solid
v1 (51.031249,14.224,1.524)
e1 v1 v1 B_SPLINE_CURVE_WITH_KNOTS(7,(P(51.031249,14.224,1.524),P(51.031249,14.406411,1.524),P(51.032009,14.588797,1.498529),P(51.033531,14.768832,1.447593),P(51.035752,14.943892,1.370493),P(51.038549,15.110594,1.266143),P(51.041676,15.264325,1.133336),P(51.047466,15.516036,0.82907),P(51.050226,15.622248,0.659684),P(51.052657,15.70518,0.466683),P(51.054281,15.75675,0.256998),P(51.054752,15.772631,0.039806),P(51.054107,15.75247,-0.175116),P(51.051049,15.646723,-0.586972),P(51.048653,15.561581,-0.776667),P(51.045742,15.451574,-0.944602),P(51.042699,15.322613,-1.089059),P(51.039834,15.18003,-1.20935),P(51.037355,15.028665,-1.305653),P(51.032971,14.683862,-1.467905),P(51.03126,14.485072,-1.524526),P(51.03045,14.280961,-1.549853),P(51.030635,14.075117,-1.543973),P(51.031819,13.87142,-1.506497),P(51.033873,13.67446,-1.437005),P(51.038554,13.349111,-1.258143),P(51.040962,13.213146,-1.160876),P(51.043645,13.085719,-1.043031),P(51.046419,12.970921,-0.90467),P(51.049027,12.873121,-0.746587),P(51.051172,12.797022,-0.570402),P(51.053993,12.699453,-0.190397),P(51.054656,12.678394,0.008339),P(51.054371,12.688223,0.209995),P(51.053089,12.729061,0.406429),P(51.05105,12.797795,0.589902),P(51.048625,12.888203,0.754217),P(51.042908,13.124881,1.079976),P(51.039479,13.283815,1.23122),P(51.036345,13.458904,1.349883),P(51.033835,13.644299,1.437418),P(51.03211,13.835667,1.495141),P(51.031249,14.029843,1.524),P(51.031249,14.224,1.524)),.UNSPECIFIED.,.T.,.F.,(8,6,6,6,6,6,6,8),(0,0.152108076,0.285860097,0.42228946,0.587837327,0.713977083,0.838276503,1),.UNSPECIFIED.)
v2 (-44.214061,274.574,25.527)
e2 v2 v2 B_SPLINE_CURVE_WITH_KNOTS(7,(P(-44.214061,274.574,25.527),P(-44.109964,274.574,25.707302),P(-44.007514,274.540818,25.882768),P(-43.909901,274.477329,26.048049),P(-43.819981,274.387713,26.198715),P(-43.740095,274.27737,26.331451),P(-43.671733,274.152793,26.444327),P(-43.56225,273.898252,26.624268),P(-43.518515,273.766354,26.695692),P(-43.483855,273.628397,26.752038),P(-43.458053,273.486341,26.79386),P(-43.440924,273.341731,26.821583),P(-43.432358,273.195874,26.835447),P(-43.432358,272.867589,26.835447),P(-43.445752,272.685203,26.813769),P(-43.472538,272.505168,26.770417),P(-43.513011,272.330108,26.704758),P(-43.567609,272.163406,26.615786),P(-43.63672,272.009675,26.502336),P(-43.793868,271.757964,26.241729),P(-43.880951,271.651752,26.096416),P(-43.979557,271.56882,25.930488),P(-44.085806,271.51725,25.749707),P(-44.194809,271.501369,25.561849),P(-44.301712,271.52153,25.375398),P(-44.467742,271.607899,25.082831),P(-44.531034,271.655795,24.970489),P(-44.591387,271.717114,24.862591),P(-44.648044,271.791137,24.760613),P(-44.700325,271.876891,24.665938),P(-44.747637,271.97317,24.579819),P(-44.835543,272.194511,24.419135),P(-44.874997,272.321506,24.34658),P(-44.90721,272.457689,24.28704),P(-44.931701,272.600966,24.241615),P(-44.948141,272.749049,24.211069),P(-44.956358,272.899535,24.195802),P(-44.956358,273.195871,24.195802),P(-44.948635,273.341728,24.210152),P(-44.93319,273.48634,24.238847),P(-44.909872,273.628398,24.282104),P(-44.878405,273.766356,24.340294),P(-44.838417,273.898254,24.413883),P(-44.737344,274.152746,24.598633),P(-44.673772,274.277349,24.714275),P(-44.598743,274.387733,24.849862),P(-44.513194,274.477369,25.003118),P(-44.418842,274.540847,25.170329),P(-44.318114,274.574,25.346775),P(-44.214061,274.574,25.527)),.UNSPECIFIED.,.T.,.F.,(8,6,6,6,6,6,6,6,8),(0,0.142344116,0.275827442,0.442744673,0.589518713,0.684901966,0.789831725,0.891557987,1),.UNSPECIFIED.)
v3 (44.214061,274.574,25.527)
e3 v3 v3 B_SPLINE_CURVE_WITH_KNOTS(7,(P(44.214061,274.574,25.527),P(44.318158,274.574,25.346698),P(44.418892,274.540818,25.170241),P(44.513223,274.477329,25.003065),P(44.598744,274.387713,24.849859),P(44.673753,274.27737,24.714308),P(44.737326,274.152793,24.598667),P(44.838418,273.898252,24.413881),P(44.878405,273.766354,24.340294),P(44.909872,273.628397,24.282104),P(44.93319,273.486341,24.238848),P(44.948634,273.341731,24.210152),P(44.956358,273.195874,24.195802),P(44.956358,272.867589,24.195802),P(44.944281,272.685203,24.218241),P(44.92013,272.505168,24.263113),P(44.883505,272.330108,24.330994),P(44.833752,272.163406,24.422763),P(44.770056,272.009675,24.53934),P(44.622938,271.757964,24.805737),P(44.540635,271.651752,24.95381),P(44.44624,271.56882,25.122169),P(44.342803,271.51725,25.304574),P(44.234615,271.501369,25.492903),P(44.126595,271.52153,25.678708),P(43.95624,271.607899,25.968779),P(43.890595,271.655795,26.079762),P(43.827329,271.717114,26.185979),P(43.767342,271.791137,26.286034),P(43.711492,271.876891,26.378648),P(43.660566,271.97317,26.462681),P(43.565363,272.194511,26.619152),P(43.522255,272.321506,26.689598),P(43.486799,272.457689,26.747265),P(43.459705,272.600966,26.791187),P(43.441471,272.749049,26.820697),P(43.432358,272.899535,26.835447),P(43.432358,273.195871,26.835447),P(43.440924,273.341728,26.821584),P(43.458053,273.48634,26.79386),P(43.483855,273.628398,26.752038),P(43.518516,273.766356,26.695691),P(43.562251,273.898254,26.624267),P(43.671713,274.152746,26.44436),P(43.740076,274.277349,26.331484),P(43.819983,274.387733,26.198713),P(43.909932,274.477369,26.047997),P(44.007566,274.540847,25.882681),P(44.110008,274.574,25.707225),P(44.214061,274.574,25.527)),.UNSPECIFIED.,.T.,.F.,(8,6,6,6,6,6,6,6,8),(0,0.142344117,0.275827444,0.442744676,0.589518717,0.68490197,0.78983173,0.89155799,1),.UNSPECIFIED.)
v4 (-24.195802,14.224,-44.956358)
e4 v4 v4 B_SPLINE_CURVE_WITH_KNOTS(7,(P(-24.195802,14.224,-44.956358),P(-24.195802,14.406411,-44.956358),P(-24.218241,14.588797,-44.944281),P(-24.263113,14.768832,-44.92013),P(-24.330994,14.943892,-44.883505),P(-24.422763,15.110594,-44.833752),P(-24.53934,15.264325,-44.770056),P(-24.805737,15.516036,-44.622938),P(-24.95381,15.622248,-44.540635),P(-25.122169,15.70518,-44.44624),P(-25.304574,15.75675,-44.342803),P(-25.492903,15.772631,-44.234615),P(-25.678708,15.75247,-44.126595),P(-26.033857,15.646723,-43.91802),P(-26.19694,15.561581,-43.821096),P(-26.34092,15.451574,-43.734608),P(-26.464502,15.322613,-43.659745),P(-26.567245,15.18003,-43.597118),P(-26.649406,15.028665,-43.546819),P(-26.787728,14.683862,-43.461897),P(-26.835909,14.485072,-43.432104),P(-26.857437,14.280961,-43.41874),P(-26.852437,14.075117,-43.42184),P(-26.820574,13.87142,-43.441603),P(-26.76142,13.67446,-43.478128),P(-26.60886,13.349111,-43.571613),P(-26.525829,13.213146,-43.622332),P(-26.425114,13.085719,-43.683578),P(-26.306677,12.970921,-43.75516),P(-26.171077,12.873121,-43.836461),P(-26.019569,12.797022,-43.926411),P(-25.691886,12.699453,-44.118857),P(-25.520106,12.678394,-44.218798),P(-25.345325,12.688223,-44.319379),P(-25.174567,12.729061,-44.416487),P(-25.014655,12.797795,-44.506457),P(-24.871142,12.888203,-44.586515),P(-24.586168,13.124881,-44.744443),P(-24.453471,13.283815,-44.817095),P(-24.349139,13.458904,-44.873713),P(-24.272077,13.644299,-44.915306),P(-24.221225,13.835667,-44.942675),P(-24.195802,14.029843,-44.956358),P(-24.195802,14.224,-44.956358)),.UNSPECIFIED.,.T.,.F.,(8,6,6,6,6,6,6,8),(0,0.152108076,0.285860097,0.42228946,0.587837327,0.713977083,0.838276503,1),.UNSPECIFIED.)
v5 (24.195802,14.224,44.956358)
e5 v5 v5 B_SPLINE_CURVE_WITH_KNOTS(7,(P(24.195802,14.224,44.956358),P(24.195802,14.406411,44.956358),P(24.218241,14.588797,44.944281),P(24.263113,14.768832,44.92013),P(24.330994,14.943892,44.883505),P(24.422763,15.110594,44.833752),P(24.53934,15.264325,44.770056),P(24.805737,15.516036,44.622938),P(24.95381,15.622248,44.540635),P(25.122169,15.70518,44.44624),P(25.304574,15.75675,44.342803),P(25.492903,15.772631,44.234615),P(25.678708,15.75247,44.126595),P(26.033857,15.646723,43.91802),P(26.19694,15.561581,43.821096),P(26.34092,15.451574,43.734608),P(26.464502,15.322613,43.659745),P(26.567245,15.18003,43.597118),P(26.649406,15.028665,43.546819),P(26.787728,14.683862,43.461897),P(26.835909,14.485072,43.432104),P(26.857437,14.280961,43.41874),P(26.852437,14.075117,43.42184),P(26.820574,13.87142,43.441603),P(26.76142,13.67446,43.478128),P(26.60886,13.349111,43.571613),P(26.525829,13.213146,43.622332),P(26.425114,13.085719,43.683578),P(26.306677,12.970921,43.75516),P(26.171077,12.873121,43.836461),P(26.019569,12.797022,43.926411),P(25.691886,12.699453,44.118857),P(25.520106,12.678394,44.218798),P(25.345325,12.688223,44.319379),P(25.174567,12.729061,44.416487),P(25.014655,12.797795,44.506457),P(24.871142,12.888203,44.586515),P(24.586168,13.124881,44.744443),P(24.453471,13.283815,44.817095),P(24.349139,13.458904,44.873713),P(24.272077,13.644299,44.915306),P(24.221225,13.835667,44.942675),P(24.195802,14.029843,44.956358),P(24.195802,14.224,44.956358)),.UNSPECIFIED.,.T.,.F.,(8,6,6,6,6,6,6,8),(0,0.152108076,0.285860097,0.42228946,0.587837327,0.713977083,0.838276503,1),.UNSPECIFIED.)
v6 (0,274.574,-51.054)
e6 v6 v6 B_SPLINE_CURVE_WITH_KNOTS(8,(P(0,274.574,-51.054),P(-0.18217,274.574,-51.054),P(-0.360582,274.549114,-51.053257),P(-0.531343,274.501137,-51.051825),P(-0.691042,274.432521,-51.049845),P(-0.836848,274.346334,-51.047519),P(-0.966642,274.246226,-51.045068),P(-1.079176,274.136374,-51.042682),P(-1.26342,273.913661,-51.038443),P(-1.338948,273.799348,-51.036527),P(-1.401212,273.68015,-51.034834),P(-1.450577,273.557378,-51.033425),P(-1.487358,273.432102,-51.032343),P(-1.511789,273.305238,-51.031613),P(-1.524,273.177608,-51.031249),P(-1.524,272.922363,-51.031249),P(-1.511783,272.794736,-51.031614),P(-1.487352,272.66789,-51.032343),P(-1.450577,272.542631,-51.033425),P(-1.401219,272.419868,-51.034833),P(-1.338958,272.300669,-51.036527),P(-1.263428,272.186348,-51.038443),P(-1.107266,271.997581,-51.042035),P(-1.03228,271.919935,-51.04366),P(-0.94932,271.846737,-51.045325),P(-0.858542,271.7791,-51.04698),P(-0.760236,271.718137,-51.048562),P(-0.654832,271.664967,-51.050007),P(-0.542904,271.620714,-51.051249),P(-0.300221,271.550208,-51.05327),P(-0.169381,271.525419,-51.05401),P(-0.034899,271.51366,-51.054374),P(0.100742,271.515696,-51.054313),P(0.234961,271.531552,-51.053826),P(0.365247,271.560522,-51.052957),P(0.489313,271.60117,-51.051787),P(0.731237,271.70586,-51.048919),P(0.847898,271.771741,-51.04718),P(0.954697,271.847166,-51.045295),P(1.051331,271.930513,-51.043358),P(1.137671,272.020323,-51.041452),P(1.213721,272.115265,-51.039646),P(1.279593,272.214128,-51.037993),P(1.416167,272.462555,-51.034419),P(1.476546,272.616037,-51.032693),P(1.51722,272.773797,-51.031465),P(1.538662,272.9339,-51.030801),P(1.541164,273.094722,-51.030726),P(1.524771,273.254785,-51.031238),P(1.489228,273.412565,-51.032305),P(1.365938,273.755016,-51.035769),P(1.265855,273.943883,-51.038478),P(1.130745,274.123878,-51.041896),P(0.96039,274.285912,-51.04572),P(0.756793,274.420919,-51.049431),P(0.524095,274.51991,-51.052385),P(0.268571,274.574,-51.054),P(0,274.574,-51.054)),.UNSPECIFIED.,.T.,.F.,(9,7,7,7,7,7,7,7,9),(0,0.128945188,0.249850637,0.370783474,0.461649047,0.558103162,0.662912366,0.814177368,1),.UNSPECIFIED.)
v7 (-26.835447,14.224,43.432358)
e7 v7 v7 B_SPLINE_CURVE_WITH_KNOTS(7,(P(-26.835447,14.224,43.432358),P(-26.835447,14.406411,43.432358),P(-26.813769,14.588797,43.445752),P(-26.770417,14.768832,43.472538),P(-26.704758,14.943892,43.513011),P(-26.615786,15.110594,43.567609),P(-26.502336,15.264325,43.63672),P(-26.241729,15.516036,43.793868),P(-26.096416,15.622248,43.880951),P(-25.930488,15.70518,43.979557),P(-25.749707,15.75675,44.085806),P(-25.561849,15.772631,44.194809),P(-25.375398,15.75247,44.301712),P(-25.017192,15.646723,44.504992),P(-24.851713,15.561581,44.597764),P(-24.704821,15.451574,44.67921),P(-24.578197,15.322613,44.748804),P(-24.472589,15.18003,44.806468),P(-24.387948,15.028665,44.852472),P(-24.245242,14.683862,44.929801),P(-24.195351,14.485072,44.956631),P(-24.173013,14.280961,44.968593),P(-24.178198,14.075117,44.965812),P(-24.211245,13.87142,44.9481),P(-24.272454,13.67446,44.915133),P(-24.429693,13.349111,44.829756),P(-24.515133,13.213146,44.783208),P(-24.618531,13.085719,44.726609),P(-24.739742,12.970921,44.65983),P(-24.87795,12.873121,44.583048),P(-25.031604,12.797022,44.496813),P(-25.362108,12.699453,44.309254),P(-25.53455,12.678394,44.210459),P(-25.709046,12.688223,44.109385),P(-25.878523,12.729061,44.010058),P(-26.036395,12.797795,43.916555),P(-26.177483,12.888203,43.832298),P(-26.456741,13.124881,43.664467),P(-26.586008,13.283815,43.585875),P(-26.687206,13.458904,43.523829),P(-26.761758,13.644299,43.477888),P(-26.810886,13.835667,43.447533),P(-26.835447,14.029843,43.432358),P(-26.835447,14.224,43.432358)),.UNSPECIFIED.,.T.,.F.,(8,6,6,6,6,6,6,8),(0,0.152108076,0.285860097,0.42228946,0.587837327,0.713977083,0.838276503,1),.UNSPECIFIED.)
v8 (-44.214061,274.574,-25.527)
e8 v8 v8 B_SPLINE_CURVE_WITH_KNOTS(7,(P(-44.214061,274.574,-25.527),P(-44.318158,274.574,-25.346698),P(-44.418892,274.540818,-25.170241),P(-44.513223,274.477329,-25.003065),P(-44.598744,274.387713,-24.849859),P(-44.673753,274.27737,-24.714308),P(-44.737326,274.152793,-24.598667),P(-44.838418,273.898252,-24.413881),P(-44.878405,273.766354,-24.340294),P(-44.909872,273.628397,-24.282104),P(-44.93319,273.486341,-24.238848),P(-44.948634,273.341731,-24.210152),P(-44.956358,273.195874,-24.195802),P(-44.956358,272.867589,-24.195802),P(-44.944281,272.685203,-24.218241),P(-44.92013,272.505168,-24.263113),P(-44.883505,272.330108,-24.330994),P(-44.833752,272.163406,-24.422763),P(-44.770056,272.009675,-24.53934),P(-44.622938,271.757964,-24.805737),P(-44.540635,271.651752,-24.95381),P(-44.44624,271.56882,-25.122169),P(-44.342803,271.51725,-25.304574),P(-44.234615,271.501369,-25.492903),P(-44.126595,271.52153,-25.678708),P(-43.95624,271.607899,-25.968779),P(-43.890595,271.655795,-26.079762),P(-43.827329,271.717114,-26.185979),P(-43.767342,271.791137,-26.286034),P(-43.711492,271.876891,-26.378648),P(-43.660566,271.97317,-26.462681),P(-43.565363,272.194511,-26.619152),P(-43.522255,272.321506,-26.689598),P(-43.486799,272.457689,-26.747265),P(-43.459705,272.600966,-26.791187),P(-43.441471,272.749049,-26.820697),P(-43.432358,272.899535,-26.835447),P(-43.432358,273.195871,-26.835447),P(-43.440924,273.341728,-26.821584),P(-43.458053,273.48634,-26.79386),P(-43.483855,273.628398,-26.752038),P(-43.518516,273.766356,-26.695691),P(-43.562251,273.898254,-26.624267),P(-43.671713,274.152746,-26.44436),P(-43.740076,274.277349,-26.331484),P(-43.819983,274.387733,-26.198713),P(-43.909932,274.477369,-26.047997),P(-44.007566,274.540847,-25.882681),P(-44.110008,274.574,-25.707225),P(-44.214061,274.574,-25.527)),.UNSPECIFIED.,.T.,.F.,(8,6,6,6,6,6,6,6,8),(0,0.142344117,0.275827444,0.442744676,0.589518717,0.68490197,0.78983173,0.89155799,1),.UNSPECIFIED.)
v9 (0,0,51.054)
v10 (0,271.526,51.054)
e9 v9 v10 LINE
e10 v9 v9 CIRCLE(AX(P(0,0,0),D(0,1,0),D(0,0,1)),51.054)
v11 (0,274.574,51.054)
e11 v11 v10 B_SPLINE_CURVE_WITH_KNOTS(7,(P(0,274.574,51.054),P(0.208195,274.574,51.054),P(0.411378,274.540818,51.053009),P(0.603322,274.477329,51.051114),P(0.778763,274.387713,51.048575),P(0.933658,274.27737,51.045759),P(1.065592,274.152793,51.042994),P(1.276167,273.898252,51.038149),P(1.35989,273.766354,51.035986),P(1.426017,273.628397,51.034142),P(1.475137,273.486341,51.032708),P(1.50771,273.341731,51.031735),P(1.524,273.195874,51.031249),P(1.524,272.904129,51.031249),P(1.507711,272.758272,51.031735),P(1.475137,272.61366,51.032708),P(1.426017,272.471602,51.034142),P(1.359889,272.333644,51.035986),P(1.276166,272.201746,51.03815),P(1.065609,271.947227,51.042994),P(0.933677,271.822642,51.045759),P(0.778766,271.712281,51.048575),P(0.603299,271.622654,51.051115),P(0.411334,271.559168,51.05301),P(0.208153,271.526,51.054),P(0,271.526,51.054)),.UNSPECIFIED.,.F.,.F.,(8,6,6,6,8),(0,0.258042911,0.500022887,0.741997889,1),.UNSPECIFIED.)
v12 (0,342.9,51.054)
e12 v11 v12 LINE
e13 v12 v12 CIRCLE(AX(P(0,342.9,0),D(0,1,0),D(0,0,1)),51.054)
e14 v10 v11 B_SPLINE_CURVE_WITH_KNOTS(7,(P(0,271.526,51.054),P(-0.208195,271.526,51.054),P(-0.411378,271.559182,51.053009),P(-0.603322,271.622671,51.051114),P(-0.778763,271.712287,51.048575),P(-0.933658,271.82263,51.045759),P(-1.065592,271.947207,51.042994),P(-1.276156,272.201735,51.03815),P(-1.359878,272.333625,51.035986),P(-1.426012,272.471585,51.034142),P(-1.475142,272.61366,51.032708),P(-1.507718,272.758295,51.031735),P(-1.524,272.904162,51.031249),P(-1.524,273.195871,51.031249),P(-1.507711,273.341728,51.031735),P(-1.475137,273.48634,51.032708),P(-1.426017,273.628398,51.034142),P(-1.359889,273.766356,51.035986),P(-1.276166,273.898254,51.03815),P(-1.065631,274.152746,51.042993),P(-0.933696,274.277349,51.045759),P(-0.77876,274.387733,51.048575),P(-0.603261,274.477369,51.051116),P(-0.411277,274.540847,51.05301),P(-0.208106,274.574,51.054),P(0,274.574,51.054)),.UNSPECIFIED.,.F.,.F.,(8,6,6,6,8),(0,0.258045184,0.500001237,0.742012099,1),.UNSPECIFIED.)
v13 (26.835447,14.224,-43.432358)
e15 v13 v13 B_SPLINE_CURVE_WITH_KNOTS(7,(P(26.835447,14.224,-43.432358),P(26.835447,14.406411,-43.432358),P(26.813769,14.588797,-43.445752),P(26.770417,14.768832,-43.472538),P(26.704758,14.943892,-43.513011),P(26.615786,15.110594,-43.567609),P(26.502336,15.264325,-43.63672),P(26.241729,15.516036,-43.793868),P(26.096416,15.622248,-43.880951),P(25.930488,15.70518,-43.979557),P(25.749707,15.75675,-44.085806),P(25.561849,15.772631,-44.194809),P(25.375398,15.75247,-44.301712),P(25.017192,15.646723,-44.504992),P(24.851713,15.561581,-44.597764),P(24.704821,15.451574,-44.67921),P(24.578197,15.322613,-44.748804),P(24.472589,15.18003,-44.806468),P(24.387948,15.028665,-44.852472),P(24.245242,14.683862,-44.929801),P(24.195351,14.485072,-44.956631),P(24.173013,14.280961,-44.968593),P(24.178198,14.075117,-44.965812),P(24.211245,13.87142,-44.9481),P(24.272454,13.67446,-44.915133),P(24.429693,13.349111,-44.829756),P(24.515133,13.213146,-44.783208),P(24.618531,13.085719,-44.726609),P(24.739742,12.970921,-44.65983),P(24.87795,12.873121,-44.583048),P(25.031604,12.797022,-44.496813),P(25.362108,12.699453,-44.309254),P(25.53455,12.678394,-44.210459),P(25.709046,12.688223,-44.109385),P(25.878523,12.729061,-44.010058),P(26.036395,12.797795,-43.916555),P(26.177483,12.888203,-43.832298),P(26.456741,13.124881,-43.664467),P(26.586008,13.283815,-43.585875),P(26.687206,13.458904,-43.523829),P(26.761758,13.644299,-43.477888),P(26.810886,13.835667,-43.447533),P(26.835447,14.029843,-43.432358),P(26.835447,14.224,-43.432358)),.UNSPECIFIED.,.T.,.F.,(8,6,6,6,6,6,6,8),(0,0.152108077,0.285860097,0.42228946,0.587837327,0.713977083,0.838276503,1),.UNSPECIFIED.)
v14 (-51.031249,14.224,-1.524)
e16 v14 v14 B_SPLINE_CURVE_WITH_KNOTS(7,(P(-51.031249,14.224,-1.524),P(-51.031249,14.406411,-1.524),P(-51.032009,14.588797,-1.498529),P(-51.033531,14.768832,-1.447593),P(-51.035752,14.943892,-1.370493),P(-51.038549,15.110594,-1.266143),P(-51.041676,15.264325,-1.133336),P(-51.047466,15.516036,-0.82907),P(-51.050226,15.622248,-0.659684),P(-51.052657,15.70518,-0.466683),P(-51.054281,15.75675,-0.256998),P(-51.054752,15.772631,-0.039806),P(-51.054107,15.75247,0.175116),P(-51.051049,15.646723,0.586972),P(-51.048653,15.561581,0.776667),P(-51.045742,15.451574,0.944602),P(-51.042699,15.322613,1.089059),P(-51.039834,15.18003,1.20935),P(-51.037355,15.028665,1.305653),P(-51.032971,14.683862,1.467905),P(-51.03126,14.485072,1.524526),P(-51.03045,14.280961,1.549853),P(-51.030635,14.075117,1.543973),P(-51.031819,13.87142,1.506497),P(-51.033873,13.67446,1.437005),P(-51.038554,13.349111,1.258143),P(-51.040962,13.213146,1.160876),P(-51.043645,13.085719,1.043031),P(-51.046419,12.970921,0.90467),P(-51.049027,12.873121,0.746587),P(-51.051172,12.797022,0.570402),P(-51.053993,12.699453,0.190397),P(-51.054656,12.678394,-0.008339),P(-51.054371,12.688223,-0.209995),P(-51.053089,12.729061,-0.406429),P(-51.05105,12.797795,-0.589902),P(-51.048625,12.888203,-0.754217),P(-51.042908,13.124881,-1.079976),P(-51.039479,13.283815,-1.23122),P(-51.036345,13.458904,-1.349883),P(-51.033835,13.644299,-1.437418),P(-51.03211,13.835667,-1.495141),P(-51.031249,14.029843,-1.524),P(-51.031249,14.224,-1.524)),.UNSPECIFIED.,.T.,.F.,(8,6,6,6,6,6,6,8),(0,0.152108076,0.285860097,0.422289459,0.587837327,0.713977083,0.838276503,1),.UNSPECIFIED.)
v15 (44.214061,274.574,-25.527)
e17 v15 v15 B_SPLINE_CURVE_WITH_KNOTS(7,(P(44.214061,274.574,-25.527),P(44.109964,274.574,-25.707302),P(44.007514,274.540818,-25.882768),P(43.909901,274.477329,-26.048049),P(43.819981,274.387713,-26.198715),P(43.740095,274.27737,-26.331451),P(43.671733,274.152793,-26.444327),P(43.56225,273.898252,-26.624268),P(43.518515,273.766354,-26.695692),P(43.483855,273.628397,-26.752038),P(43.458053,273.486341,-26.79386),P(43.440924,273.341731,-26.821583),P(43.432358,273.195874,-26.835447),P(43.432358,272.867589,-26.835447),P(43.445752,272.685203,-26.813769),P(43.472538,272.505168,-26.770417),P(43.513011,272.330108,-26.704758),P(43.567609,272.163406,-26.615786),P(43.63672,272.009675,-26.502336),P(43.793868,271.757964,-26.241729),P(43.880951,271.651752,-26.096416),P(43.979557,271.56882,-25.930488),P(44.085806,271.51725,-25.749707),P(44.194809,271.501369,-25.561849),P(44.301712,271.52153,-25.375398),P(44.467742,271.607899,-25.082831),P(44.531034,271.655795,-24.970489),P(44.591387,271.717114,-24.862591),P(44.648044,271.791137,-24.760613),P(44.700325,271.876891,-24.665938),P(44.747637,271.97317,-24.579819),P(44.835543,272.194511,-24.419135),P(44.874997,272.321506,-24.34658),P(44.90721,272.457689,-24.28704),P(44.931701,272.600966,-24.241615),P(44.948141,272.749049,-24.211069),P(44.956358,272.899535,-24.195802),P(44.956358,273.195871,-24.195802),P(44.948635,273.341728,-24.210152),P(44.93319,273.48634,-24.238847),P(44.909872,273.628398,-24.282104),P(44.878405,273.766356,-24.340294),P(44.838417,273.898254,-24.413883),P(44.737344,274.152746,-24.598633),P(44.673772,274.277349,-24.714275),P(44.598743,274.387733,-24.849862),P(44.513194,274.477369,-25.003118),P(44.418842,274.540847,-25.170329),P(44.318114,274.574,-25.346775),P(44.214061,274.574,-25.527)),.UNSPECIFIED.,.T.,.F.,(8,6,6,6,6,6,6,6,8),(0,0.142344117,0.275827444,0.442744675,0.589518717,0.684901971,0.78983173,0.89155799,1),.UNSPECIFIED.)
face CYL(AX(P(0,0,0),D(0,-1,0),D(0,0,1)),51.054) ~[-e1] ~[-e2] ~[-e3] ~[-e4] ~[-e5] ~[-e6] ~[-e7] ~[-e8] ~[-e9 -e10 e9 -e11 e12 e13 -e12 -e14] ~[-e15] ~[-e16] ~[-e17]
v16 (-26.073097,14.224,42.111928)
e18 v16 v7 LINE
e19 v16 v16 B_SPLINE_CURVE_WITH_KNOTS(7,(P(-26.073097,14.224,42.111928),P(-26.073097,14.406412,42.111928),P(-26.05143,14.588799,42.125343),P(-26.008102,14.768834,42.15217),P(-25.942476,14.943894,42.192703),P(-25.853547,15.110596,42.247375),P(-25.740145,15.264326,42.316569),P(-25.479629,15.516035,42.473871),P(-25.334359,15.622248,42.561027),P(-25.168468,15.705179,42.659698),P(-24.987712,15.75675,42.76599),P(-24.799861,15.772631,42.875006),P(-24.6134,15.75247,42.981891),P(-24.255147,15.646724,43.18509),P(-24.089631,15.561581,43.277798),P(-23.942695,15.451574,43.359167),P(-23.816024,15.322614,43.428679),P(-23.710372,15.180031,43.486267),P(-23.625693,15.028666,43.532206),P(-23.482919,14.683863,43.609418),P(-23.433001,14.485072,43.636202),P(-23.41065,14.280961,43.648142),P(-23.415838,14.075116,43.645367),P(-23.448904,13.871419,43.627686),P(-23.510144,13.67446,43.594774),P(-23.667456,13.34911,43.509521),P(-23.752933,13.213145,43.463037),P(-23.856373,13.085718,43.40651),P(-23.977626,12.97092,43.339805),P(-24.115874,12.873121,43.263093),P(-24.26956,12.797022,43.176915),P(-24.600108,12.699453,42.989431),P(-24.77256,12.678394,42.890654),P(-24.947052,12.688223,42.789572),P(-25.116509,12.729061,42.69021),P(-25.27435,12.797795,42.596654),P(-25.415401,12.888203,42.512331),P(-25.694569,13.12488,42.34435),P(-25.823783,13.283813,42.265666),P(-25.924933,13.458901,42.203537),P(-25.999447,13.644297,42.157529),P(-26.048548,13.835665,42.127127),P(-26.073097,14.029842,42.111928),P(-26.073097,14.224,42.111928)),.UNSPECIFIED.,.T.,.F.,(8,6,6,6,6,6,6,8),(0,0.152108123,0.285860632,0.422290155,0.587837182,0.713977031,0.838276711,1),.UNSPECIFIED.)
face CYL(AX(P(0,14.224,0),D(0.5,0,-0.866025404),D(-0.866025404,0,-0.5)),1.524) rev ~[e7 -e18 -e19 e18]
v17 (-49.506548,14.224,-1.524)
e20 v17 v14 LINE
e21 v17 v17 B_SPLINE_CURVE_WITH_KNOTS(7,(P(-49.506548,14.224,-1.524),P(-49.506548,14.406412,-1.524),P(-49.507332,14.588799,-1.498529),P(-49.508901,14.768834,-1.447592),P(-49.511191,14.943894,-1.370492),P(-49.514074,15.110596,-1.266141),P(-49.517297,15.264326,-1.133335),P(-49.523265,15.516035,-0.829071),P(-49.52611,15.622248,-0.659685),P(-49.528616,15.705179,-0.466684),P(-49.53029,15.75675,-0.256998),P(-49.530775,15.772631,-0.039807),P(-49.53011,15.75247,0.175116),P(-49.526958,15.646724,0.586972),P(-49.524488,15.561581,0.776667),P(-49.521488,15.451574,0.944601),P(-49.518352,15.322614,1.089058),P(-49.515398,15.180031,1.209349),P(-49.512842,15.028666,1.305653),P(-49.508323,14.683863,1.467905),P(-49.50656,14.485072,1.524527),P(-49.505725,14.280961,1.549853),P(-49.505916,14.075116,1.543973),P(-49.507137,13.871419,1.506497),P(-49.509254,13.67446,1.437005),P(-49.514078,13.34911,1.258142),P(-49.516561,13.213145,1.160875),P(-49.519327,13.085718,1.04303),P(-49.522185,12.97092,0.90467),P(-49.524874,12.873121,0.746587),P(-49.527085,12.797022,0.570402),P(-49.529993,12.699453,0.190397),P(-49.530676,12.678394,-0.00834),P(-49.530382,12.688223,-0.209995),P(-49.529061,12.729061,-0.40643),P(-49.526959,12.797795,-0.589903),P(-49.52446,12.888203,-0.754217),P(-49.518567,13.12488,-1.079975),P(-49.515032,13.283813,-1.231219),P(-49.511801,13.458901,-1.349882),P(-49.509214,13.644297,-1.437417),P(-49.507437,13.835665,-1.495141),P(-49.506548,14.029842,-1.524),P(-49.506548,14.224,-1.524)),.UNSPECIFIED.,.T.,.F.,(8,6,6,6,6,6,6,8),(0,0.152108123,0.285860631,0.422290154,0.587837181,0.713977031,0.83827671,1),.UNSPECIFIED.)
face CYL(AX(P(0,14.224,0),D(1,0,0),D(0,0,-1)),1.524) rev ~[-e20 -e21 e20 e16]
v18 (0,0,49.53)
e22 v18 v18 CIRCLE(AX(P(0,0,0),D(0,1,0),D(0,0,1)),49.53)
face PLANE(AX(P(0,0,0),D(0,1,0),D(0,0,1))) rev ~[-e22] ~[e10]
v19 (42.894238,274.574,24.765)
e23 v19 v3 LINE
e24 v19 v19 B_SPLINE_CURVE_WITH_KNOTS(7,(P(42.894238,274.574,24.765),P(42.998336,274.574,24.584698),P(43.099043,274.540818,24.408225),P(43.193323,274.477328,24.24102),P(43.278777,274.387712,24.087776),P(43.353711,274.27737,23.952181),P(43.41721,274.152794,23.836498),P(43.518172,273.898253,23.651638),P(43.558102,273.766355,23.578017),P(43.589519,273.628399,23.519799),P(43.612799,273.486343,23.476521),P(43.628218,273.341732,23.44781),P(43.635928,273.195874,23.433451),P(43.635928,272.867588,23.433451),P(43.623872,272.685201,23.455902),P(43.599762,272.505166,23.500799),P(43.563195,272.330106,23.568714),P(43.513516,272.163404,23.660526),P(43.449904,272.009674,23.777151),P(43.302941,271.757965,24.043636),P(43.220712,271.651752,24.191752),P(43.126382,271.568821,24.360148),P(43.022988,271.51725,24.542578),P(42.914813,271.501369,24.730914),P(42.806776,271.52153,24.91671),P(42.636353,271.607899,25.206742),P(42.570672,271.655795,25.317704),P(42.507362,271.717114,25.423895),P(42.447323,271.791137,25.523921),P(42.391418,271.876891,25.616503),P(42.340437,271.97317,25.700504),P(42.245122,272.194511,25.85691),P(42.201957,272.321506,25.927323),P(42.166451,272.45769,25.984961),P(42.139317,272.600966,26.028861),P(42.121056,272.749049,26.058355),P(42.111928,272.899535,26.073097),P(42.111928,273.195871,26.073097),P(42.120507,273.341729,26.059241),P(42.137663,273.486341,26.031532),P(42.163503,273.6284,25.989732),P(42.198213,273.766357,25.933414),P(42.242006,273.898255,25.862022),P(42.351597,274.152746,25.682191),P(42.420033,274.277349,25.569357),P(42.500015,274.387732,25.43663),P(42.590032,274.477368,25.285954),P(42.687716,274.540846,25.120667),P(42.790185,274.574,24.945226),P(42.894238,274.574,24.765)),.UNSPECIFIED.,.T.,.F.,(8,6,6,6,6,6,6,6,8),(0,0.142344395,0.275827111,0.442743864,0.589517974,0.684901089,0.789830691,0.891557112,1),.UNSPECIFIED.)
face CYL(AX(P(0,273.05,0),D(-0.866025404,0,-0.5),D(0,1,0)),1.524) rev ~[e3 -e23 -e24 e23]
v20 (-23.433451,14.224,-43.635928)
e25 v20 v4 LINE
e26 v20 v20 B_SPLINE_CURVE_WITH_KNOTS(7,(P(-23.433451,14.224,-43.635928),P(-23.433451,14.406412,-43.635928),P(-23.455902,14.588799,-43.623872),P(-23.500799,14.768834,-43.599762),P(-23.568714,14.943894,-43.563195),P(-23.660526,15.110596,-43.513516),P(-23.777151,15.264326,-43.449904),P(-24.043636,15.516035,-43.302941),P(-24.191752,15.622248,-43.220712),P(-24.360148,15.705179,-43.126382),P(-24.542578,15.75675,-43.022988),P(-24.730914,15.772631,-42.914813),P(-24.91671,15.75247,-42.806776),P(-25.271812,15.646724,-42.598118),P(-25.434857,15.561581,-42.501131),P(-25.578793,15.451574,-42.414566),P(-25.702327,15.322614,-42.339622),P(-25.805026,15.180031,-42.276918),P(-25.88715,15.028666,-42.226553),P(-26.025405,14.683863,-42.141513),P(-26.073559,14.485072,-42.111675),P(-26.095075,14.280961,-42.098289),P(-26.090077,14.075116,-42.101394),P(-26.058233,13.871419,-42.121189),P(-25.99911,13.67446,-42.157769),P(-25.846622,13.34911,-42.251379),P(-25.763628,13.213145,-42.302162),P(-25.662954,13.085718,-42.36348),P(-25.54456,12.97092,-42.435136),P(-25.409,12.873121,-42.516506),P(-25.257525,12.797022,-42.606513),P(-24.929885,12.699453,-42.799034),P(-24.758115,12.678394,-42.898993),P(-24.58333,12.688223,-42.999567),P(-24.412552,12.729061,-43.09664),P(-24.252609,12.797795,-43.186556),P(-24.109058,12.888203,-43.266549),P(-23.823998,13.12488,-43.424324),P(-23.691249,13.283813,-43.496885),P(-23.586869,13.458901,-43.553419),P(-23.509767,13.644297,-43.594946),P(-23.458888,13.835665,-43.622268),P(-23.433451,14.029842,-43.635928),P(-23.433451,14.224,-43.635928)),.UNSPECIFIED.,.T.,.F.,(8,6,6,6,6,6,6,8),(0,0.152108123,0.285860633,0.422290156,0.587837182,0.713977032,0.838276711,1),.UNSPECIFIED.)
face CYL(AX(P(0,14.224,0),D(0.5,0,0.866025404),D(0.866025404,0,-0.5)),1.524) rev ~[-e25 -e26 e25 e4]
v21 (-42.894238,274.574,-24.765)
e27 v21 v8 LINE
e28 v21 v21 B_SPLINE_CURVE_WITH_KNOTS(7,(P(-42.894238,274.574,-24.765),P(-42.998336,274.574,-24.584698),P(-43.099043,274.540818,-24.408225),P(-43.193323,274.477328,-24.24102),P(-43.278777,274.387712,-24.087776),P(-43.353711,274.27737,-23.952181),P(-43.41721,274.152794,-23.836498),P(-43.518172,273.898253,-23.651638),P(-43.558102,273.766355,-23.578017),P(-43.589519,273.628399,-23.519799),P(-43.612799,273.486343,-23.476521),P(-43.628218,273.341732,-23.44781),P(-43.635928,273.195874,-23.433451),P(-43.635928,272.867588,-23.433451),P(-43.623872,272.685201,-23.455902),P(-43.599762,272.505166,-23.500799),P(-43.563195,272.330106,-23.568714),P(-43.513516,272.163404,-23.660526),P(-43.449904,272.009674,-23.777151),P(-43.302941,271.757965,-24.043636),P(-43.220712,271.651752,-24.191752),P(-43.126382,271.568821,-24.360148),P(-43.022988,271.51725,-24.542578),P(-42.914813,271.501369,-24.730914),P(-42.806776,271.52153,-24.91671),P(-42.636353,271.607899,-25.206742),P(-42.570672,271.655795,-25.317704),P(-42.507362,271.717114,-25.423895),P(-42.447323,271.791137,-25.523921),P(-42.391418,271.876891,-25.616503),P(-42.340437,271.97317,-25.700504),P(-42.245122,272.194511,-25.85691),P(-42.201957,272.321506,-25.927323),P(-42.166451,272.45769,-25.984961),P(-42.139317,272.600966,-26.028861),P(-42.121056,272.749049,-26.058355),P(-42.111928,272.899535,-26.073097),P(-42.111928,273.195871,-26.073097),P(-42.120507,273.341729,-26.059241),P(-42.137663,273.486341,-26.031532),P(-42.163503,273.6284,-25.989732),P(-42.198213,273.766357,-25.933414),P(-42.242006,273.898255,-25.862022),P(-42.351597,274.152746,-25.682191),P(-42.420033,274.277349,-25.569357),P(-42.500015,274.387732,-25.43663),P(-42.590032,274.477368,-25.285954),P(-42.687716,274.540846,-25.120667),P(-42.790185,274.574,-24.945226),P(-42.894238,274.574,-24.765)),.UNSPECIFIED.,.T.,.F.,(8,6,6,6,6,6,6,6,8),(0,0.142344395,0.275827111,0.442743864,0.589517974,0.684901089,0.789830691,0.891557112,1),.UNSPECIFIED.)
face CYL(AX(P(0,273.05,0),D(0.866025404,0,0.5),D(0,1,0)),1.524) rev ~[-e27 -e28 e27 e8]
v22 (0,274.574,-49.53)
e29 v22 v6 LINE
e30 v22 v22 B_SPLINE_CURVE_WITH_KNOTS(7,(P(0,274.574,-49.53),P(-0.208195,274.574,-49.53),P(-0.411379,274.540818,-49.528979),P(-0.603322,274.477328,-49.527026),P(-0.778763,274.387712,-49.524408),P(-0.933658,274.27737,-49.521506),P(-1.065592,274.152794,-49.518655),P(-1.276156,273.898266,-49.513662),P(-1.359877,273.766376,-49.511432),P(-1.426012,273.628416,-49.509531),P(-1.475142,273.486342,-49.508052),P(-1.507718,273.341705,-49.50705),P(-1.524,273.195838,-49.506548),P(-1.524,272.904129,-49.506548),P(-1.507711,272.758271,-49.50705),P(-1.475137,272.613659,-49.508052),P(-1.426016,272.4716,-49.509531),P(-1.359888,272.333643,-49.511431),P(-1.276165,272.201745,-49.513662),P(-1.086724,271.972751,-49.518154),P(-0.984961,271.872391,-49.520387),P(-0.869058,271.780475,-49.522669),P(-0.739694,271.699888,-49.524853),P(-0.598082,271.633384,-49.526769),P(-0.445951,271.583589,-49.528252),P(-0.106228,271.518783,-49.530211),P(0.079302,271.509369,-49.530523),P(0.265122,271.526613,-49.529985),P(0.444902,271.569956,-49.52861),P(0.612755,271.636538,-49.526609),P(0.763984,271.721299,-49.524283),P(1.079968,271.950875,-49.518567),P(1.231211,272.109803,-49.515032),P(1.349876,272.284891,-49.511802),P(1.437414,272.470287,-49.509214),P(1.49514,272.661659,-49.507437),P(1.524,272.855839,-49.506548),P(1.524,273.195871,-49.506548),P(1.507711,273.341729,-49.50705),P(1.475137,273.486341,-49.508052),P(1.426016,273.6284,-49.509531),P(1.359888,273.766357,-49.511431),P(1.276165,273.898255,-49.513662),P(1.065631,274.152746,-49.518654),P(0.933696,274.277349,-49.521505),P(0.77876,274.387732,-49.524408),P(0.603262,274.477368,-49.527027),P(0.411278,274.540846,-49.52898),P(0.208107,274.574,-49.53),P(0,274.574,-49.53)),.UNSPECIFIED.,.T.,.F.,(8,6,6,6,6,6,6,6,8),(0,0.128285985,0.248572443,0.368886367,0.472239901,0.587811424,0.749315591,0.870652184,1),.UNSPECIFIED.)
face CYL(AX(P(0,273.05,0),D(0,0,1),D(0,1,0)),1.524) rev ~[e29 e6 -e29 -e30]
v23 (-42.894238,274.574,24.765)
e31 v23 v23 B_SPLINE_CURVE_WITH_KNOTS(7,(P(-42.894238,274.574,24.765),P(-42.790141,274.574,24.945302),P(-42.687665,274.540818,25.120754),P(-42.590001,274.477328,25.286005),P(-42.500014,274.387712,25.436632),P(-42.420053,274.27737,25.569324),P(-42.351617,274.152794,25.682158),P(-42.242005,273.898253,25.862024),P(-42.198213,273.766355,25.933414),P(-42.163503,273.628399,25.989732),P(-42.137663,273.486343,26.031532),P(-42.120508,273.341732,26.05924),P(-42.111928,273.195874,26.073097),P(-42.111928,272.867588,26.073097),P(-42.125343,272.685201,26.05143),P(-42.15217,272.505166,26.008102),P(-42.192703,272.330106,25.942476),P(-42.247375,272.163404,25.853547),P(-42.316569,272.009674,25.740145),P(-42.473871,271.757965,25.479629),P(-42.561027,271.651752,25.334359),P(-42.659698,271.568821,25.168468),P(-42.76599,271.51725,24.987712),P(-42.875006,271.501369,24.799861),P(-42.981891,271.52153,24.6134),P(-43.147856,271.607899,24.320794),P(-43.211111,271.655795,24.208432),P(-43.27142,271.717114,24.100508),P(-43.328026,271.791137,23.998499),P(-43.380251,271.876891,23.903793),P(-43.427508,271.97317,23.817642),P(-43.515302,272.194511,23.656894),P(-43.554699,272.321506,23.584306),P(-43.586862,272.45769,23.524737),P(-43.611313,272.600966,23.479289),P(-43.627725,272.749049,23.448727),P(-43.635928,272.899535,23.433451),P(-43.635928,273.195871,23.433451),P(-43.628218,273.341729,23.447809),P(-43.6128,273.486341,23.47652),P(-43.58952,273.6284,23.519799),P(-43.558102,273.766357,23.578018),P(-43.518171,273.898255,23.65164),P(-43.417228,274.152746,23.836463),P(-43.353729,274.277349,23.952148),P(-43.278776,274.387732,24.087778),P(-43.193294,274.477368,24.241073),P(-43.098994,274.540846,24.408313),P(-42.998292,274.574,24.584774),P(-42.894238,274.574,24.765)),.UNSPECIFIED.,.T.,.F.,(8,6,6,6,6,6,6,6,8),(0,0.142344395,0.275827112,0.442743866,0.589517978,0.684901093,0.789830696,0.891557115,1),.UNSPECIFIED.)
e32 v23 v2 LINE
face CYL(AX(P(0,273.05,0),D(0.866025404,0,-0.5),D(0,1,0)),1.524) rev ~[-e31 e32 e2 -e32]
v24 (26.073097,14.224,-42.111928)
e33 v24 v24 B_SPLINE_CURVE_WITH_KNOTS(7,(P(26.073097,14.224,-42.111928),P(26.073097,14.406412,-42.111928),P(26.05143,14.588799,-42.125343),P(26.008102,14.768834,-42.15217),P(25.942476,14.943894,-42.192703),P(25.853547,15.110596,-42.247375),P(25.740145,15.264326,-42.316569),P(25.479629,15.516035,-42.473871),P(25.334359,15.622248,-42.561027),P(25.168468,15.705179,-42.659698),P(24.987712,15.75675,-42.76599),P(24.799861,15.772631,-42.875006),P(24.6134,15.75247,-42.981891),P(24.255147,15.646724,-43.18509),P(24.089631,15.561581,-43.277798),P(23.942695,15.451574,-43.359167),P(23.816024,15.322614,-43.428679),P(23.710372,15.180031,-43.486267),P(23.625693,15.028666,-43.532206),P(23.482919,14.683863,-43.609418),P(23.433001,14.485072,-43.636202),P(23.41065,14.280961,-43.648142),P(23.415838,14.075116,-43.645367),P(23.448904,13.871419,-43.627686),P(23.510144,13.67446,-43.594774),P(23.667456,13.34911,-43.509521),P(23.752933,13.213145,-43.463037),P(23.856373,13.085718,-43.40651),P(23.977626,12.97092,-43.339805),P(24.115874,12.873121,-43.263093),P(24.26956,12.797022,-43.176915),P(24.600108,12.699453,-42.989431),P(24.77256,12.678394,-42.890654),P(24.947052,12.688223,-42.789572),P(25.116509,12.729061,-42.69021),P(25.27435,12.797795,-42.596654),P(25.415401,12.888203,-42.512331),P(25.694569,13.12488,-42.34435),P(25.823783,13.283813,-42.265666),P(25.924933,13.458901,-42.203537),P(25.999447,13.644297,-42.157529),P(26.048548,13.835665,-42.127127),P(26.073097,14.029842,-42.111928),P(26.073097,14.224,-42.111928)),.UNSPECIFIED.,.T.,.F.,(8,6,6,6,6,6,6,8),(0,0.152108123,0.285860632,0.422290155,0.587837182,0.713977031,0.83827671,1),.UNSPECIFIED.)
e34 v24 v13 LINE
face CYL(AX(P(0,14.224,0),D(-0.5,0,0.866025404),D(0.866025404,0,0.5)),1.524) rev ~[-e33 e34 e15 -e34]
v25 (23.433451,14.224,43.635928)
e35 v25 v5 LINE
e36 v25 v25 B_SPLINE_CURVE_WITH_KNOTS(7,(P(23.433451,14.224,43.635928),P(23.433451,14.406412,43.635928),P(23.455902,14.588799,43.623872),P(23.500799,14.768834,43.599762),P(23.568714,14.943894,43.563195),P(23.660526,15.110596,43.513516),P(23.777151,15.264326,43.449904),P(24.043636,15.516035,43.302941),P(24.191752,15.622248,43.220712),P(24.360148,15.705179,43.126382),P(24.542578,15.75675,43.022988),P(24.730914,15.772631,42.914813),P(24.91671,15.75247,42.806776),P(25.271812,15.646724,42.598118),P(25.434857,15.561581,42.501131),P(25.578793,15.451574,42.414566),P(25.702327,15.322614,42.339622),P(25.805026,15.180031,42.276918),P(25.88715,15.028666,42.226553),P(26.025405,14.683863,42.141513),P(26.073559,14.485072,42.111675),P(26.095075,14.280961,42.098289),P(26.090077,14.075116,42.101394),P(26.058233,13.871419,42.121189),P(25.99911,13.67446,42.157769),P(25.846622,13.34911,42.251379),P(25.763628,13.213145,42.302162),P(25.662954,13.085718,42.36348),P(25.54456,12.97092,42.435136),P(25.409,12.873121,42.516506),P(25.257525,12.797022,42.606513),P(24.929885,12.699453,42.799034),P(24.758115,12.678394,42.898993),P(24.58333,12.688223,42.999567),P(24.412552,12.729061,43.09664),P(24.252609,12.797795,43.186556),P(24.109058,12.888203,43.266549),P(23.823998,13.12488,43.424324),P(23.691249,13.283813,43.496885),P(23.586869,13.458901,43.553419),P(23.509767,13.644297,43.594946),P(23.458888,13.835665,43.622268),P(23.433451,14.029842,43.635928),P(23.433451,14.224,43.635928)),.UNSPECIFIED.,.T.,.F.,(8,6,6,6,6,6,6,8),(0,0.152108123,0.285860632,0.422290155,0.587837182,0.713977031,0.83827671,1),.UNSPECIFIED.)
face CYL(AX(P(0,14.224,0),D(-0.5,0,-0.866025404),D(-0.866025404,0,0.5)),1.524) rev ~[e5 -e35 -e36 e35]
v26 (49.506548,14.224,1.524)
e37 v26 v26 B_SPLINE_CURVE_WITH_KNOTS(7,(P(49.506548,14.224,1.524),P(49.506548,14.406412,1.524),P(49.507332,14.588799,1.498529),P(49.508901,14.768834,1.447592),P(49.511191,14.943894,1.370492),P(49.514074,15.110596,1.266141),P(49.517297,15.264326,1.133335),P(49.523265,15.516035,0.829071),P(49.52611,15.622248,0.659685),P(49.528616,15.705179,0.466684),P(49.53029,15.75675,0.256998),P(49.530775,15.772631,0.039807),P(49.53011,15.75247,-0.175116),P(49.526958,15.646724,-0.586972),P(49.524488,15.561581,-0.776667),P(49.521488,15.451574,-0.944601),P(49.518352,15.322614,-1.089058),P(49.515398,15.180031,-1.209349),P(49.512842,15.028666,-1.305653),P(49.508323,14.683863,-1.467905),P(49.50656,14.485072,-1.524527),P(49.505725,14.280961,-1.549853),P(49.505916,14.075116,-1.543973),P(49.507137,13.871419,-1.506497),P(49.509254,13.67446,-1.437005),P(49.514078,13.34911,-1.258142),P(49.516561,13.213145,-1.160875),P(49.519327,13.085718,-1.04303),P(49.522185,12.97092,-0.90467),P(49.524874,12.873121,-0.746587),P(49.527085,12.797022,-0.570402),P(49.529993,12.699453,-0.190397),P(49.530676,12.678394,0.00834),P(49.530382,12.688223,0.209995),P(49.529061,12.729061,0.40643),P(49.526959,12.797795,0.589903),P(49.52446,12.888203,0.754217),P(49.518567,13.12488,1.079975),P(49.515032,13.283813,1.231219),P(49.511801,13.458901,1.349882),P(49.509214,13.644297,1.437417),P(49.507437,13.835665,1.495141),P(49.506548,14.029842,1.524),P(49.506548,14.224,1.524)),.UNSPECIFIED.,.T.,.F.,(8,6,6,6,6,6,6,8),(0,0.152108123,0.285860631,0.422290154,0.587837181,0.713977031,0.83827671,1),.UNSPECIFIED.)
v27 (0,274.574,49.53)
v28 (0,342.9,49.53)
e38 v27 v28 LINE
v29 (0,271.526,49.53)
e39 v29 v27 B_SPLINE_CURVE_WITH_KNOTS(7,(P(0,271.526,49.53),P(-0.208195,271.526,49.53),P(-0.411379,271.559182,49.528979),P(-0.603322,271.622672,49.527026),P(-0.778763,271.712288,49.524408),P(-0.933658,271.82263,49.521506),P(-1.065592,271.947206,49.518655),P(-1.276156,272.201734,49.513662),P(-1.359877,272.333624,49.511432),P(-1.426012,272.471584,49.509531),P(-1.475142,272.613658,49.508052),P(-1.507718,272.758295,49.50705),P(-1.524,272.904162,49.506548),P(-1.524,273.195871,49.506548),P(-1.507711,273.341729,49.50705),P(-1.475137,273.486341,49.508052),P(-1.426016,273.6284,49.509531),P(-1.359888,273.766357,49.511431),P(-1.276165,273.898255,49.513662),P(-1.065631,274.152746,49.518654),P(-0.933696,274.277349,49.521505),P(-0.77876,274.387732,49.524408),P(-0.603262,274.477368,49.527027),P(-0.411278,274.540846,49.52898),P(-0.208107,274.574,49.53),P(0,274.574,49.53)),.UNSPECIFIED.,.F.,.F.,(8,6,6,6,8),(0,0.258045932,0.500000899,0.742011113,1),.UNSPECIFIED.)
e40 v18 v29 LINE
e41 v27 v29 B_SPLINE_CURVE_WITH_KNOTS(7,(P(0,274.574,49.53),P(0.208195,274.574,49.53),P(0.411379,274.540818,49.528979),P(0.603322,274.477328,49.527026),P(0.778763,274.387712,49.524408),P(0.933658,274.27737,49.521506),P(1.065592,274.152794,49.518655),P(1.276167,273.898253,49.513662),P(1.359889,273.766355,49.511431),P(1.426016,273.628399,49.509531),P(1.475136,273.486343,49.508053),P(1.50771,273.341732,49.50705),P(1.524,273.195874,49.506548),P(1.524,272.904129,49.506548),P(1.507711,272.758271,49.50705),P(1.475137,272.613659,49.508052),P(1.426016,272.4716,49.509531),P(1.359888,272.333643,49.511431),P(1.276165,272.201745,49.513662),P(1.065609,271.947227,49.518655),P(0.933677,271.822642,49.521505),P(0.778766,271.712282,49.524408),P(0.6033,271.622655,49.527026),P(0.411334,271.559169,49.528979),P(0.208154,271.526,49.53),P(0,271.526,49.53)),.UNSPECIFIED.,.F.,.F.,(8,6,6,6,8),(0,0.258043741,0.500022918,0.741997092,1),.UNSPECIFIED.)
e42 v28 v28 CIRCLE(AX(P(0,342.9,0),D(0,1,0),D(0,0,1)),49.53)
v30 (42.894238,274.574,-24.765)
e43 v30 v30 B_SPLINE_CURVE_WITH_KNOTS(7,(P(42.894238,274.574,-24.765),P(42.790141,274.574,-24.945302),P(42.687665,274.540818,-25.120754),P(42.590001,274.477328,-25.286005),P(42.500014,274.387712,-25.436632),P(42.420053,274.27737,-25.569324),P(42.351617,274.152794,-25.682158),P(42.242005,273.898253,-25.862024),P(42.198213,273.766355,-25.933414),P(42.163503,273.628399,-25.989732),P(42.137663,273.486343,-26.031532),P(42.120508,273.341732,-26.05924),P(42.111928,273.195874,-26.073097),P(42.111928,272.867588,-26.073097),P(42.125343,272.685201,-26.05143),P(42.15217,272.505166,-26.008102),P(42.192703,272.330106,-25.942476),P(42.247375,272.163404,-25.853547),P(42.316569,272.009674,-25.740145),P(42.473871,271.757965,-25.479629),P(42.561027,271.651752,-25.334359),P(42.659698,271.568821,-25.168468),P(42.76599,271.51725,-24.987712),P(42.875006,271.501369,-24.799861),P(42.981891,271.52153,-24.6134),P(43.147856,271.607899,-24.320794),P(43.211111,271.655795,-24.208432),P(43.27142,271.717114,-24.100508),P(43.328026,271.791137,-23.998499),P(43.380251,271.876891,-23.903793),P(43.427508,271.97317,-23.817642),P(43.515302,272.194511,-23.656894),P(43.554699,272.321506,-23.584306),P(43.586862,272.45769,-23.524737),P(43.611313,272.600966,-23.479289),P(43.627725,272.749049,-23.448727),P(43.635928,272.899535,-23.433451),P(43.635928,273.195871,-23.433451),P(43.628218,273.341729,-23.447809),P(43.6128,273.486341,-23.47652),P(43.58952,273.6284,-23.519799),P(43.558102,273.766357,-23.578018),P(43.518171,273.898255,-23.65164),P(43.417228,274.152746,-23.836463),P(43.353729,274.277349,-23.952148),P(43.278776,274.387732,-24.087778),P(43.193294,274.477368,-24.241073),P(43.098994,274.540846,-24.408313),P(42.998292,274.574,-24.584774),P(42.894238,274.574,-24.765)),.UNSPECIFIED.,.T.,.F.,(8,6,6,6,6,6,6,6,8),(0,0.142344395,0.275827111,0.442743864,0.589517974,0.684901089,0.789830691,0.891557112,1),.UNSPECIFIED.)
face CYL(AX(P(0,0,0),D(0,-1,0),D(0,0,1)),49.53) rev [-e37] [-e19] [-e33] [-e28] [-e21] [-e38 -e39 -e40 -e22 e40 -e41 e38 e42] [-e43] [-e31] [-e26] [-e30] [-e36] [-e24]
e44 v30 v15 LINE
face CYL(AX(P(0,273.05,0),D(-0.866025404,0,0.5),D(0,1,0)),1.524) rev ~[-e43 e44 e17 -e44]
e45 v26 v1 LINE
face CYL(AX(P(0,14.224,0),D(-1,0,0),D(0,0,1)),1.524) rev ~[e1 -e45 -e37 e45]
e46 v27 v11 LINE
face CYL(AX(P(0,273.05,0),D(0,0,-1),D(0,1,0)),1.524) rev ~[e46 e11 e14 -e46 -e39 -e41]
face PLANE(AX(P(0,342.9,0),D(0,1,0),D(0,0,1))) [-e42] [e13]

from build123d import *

# Parameters (mm, degrees)
SKETCH3_R           = 51.054
SKETCH3_R_2         = 49.53
BOSS_EXTRUDE1_DEPTH = 342.9
SKETCH4_R           = 1.524
CUT_EXTRUDE1_DEPTH  = 71.12
CIRPATTERN1_COUNT   = 6
SKETCH5_R           = 1.524
CUT_EXTRUDE2_DEPTH  = 177.8
CIRPATTERN2_COUNT   = 6


with BuildPart() as part:
    # Sketch3 → Boss-Extrude1 (new body)
    with BuildSketch(Plane(origin=(0, 0, 0), x_dir=(1, 0, 0), z_dir=(0, 1, 0))):
        with Locations(Location((0, 0, 0), (0, 0, 270))):
            Circle(SKETCH3_R)
        with Locations(Location((0, 0, 0), (0, 0, 270))):
            Circle(SKETCH3_R_2, mode=Mode.SUBTRACT)
    extrude(amount=BOSS_EXTRUDE1_DEPTH)

    # Sketch4 → Cut-Extrude1 (cut)
    with BuildSketch(Plane.XY):
        with Locations(Location((0, 273.05, 0), (0, 0, 90))):
            Circle(SKETCH4_R)
    cut_extrude1 = extrude(amount=-CUT_EXTRUDE1_DEPTH, mode=Mode.SUBTRACT)

    # CirPattern1: Cut-Extrude1 ×6 about axis
    cirpattern1_axis = Axis((0, 342.9, 0), (0, -1, 0))
    for i in range(1, CIRPATTERN1_COUNT):
        add(cut_extrude1.rotate(cirpattern1_axis, i * 360 / CIRPATTERN1_COUNT), mode=Mode.SUBTRACT)

    # Sketch5 → Cut-Extrude2 (cut)
    with BuildSketch(Plane(origin=(0, 0, 0), x_dir=(0, 0, -1), z_dir=(1, 0, 0))):
        with Locations((0, 14.224)):
            Circle(SKETCH5_R)
    cut_extrude2 = extrude(amount=-CUT_EXTRUDE2_DEPTH, mode=Mode.SUBTRACT)

    # CirPattern2: Cut-Extrude2 ×6 about axis
    cirpattern2_axis = Axis((0, 342.9, 0), (0, -1, 0))
    for i in range(1, CIRPATTERN2_COUNT):
        add(cut_extrude2.rotate(cirpattern2_axis, i * 360 / CIRPATTERN2_COUNT), mode=Mode.SUBTRACT)


solid = part.part
